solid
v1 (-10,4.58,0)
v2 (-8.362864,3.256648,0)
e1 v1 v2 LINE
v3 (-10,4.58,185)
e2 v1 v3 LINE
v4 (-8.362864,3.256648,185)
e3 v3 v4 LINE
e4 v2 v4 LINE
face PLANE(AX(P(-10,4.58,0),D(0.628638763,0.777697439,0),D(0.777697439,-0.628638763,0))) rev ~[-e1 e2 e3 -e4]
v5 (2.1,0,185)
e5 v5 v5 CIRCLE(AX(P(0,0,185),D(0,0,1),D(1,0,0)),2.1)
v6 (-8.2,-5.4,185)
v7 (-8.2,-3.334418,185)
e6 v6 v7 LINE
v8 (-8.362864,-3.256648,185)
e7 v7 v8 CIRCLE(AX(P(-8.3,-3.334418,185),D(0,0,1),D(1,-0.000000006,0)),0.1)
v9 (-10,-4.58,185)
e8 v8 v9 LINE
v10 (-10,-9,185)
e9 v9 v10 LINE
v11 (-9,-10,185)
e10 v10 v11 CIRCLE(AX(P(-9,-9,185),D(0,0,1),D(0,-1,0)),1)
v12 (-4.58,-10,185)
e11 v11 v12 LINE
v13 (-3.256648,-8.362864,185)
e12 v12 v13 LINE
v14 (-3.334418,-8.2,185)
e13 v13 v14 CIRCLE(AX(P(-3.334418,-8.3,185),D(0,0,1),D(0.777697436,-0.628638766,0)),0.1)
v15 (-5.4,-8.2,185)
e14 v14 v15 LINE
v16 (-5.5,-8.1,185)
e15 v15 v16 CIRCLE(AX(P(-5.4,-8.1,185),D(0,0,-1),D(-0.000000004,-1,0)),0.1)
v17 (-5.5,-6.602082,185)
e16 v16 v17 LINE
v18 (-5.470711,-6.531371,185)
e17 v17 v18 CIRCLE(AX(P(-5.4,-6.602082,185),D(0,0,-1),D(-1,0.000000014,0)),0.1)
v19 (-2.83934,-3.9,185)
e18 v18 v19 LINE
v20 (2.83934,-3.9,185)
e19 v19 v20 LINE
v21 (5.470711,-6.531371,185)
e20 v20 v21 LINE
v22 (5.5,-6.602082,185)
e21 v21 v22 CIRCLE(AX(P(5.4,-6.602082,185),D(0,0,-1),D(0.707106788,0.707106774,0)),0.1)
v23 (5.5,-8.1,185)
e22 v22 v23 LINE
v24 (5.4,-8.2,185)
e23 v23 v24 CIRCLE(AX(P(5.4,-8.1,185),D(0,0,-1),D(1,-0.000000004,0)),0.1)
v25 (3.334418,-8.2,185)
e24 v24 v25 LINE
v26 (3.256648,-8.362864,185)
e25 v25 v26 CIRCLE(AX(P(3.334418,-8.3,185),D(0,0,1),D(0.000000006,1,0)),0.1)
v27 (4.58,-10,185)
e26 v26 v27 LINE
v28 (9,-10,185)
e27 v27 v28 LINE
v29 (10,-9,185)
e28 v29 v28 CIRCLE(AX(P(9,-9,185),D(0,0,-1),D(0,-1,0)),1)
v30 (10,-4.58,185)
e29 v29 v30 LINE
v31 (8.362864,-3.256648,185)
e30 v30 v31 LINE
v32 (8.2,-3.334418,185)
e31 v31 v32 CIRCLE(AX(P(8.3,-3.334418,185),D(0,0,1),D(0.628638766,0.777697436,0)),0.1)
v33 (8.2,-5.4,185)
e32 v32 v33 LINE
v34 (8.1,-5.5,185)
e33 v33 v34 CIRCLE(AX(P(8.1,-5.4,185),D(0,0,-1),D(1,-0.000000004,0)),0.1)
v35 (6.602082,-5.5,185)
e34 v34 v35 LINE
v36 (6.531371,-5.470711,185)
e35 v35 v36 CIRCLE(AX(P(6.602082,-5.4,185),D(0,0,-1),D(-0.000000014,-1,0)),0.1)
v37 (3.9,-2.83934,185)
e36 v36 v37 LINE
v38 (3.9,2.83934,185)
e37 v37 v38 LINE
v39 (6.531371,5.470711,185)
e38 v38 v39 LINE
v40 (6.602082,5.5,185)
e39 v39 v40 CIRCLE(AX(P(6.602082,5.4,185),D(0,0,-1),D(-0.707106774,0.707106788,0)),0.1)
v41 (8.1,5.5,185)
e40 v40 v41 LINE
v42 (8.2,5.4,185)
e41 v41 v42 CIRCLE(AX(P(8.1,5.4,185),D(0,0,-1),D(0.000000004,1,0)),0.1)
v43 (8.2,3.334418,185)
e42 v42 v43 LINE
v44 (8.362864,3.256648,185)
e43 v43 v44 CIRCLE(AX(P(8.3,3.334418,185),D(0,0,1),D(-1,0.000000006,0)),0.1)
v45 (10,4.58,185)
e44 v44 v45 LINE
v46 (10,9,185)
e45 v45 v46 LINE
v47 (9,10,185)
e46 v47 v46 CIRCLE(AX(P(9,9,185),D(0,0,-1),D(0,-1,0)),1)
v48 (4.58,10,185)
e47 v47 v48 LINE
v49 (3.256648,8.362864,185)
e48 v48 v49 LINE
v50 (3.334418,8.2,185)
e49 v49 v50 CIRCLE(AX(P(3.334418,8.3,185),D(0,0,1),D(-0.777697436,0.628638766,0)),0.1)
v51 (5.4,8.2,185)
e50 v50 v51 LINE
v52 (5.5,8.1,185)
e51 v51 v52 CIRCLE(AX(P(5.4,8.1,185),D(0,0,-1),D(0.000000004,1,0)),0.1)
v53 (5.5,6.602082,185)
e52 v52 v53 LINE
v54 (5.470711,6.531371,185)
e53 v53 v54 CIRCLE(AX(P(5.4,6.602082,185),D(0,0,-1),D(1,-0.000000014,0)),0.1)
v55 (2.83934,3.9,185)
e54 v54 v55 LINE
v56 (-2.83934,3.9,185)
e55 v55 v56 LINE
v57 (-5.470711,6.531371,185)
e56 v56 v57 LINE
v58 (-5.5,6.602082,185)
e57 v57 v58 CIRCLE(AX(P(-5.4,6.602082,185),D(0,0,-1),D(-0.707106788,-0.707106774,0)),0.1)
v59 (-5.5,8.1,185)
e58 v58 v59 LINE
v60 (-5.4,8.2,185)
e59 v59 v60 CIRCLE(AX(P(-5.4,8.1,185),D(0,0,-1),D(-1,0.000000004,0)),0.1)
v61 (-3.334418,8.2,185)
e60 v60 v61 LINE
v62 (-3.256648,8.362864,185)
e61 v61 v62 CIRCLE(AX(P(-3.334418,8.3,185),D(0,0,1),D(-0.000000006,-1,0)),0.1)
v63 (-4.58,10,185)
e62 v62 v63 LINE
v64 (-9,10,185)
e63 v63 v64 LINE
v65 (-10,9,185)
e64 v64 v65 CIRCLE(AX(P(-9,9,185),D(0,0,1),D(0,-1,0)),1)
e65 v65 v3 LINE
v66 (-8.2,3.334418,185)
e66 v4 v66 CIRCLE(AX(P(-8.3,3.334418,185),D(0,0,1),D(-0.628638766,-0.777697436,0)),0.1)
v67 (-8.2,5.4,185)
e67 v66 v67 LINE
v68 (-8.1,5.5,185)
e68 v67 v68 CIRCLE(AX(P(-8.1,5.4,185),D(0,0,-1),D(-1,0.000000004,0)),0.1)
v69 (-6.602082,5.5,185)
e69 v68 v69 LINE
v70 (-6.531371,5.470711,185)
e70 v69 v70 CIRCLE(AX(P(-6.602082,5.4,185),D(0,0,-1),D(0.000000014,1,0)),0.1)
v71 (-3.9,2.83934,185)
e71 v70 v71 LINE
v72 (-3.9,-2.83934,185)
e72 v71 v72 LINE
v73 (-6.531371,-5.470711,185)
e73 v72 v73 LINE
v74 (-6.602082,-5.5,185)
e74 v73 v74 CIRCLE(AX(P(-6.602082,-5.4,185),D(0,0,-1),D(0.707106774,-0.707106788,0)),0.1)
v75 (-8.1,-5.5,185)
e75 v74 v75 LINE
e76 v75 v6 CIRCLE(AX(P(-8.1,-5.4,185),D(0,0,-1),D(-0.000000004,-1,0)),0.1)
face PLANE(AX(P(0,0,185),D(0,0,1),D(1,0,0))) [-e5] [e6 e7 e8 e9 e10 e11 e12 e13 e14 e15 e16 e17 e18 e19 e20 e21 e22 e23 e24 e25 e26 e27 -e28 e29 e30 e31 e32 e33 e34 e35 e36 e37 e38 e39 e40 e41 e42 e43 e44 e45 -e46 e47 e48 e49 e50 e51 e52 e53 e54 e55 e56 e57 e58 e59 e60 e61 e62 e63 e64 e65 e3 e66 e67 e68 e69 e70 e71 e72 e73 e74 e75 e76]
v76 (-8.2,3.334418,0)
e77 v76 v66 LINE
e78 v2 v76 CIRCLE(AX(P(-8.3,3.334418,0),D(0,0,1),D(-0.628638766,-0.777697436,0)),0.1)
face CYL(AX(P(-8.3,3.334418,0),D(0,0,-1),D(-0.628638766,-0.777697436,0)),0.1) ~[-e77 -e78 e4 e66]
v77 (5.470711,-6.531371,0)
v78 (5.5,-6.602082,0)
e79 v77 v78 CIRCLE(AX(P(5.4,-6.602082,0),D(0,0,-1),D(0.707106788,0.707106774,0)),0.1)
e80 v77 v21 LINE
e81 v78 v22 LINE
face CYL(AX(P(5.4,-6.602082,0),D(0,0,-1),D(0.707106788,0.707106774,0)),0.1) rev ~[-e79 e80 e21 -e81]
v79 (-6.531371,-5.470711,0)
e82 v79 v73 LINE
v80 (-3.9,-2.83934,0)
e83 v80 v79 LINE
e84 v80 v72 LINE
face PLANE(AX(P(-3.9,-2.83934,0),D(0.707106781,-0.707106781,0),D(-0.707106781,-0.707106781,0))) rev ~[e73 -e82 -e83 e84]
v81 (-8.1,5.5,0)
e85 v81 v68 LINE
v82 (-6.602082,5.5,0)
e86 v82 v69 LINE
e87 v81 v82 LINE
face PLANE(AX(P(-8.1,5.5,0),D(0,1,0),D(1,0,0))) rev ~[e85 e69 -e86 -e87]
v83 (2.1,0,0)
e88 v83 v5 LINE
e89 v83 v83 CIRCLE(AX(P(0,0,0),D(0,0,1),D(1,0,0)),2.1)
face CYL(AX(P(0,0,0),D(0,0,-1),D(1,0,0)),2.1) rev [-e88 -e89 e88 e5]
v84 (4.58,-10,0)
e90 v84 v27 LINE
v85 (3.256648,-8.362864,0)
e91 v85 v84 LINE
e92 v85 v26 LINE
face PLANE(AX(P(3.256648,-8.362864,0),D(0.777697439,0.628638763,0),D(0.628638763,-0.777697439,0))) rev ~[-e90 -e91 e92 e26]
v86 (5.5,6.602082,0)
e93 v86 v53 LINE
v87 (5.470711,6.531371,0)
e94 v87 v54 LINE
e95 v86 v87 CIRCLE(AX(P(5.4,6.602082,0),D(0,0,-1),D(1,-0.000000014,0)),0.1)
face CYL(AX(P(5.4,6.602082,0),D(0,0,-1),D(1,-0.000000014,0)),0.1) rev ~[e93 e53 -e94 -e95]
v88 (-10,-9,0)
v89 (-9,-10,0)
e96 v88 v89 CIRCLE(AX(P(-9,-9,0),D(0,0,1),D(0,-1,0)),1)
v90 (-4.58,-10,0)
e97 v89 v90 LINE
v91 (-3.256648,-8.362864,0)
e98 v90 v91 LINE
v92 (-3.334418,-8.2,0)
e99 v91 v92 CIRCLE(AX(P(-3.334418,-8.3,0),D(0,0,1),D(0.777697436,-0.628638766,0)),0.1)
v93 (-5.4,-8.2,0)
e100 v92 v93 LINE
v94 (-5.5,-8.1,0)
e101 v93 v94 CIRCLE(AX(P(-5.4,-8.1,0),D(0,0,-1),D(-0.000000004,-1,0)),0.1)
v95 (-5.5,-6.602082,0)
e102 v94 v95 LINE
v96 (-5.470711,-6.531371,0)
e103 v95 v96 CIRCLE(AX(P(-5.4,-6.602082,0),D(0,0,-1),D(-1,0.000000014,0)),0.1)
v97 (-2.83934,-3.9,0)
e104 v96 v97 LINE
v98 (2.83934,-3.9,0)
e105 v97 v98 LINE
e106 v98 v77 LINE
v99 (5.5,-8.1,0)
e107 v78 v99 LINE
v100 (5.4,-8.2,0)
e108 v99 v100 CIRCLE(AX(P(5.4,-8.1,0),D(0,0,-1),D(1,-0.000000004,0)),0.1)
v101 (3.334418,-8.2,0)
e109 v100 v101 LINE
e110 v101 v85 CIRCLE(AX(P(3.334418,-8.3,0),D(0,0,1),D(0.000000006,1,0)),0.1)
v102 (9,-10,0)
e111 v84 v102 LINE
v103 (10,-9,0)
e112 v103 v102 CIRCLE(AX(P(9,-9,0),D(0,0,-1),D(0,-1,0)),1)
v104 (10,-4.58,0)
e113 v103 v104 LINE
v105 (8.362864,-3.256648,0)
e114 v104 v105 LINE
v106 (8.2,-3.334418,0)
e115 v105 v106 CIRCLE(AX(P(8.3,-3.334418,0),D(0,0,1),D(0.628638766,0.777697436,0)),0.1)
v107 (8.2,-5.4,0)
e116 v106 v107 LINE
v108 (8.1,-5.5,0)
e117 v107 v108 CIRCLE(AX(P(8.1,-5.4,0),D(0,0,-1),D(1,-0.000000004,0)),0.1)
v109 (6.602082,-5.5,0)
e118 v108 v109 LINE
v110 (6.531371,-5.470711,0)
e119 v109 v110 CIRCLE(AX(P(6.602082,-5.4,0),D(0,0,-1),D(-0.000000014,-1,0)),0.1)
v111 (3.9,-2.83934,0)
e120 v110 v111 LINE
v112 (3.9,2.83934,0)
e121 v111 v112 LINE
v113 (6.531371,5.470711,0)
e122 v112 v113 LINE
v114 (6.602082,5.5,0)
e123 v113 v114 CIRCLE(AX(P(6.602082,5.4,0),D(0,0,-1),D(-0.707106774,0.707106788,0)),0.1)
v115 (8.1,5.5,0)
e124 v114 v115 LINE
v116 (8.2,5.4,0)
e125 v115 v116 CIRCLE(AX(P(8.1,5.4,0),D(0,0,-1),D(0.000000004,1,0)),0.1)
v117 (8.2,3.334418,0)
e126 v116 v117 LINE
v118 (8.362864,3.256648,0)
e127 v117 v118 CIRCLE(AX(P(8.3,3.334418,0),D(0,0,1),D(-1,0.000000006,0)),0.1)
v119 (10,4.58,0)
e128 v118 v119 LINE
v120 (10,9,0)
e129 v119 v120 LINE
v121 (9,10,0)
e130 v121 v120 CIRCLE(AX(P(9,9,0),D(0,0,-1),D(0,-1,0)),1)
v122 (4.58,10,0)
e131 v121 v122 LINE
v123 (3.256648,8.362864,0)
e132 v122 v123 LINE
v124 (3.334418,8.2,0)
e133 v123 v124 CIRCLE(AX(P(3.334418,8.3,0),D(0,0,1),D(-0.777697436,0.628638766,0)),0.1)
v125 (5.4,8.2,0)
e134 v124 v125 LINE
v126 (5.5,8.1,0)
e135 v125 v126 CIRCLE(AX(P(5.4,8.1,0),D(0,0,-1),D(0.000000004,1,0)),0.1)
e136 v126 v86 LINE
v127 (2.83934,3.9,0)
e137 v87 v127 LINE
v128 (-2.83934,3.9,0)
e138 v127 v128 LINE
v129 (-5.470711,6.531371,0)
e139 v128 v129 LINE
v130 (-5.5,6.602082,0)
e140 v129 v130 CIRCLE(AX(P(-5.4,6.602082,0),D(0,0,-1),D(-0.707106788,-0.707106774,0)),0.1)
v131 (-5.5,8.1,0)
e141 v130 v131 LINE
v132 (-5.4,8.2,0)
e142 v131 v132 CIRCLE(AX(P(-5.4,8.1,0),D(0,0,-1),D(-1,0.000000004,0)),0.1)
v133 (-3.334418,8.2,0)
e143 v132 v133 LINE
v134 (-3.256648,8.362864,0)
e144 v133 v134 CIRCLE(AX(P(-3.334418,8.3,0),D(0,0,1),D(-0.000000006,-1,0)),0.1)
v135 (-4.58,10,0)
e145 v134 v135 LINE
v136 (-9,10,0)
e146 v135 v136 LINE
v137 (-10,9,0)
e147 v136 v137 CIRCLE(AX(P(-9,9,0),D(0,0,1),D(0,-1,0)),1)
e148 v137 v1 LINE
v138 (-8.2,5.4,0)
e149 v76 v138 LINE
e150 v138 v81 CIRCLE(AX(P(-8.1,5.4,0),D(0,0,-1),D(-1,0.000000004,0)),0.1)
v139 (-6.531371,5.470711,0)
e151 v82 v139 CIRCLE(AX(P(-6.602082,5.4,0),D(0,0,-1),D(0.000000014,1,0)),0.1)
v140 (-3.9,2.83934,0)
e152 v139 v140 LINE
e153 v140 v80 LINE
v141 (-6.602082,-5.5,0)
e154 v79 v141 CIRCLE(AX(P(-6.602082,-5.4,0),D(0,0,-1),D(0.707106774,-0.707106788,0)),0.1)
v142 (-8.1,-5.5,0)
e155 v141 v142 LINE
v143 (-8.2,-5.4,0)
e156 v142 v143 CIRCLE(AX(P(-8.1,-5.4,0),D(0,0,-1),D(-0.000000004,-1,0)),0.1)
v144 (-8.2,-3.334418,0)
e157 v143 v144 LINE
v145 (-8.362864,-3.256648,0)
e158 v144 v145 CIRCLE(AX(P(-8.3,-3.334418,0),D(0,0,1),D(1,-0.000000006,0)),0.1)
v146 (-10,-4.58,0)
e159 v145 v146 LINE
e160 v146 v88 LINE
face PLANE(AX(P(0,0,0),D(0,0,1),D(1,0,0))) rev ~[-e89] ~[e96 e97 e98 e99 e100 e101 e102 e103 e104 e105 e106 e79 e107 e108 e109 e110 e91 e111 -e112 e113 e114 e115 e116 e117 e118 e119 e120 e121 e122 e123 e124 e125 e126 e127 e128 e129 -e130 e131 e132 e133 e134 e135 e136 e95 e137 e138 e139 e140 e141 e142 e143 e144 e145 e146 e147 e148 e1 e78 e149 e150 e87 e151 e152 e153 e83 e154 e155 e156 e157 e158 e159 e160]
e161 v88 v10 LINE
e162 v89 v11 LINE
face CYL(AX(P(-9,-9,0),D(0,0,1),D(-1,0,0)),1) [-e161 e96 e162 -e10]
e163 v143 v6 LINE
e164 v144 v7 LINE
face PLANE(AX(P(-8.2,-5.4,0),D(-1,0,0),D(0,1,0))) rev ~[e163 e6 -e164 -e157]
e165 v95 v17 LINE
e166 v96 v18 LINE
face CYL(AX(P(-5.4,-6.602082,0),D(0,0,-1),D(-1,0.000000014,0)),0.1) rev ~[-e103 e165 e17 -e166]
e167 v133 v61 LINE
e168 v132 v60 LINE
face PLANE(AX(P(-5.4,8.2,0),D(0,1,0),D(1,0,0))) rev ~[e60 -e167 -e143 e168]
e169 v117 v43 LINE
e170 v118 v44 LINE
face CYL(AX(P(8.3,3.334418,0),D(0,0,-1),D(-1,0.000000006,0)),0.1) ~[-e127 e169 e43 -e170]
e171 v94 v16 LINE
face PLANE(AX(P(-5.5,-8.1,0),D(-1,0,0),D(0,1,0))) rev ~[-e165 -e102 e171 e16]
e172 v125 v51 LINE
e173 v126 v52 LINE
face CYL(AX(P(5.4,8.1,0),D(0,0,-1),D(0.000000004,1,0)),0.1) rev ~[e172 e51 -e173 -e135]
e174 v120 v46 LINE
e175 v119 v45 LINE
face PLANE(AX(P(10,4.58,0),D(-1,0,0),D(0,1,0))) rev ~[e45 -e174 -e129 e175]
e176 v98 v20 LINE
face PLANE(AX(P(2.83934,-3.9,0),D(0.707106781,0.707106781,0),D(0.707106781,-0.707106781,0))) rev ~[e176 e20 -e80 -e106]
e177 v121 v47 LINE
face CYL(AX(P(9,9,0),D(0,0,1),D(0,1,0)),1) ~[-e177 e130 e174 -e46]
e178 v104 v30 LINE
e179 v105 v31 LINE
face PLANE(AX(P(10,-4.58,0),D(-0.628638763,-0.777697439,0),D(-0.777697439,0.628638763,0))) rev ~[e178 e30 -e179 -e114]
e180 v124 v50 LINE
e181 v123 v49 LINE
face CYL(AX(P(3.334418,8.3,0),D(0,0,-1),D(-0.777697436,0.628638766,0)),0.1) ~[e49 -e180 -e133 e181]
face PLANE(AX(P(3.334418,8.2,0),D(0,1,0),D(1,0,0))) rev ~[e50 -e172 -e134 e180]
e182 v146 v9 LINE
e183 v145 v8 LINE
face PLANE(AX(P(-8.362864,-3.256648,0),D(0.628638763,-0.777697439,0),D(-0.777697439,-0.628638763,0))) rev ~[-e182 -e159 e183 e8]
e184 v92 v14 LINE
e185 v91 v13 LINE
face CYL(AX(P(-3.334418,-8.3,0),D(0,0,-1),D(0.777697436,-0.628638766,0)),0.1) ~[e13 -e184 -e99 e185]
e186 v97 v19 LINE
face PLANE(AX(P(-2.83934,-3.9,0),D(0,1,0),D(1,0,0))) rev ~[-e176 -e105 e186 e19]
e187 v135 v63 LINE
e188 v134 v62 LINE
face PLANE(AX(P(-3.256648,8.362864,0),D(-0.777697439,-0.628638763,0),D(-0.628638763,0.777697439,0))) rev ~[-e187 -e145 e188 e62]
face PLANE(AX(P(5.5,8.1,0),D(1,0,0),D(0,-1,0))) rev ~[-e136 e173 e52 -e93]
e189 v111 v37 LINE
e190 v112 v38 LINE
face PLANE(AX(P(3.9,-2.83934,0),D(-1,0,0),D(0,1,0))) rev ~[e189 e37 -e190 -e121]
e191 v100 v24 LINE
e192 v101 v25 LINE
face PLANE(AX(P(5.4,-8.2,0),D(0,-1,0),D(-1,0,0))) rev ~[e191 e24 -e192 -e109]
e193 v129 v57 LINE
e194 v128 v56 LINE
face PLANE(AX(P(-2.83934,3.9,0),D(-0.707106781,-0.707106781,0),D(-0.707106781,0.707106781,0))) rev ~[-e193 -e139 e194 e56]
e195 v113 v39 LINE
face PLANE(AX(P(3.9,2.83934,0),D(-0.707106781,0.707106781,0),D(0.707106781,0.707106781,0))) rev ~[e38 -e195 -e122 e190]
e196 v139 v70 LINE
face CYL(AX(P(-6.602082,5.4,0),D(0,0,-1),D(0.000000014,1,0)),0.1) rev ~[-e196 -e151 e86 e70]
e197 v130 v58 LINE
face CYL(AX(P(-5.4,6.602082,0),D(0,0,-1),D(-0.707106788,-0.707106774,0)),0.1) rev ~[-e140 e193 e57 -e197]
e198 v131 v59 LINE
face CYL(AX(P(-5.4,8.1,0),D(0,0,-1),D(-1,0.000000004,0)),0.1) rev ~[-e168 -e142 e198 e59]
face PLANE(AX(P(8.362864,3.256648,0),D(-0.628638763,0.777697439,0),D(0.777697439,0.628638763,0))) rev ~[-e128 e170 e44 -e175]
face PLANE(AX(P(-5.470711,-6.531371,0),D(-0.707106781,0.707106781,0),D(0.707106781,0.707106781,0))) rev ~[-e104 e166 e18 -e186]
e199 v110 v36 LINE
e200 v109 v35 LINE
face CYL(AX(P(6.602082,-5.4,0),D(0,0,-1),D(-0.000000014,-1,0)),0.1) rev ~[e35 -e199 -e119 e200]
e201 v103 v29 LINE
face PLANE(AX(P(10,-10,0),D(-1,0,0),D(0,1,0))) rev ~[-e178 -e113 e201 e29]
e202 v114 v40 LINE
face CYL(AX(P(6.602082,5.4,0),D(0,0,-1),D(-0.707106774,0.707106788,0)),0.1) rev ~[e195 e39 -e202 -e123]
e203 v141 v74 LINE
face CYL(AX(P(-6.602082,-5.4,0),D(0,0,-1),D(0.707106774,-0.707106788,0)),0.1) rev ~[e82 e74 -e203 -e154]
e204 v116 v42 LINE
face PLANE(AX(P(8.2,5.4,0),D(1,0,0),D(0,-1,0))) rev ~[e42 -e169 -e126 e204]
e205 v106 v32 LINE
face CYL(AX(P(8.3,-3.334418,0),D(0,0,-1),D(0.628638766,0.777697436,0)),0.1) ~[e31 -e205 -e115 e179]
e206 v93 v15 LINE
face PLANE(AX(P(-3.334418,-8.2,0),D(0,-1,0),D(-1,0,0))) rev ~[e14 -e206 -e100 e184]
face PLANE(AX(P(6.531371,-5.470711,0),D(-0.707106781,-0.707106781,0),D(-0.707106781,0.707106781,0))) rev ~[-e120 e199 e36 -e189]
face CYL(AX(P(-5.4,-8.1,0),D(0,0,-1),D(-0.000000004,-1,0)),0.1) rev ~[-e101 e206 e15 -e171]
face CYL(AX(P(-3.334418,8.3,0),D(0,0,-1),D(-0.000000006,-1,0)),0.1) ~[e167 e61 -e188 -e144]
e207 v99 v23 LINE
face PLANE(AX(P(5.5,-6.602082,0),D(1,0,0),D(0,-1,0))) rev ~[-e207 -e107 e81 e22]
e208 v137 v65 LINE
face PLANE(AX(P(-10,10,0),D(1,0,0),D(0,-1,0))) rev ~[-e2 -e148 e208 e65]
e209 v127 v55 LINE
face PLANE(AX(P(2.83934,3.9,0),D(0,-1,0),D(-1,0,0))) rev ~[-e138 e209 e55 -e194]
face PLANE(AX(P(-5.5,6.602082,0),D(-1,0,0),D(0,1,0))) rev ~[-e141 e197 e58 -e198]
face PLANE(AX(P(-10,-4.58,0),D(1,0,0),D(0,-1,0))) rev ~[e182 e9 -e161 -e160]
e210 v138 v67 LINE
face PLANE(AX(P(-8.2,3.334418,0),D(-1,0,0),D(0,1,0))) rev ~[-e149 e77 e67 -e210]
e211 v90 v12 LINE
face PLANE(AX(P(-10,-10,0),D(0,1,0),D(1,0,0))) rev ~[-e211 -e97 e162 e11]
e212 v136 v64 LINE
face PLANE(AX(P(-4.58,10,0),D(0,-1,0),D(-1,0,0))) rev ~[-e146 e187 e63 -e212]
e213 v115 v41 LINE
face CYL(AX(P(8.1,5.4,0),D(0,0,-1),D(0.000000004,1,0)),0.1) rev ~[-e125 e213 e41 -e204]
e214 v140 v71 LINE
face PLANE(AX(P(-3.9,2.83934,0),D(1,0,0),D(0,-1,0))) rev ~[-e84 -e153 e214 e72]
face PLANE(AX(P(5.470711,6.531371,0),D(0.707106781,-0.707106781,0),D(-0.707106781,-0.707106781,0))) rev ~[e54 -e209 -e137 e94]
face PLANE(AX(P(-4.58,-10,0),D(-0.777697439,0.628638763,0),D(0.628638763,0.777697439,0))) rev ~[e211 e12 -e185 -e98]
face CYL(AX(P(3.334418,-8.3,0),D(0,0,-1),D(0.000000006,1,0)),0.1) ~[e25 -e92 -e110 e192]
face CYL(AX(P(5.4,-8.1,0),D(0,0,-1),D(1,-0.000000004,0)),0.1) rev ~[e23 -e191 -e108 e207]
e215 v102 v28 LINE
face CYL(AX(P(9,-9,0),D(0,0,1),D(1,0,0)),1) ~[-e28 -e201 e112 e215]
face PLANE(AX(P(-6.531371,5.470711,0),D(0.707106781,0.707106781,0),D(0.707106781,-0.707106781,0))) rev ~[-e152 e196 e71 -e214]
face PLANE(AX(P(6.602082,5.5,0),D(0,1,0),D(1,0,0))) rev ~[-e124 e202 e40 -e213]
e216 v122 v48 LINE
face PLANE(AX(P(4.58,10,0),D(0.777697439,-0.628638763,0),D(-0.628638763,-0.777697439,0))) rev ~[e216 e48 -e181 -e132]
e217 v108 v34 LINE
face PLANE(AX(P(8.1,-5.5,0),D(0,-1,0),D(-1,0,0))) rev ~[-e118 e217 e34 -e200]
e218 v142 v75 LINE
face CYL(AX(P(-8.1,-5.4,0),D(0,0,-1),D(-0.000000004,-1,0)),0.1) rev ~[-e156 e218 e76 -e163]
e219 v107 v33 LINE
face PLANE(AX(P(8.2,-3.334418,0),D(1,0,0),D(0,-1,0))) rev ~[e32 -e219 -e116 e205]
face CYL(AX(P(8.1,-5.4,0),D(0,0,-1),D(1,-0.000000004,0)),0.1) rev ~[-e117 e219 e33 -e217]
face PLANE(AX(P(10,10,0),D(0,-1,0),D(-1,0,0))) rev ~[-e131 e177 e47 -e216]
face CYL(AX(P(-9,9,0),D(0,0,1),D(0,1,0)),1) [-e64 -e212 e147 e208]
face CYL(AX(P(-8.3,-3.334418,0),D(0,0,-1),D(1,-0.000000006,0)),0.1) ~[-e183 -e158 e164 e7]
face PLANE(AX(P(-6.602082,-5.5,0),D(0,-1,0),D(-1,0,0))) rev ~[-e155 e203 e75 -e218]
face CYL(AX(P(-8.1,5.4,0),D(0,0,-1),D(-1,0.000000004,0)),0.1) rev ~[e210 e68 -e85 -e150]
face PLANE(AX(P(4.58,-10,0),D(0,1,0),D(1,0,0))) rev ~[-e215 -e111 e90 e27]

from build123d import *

# Parameters (mm, degrees)
SKETCH1_R           = 2.1
BOSS_EXTRUDE1_DEPTH = 185
FILLET1_R           = 1


with BuildPart() as part:
    # Sketch1 → Boss-Extrude1 (new body)
    with BuildSketch(Plane.XY):
        with BuildLine():
            Line((-2.839339828, 3.9), (-5.470710678, 6.53137085))
            ThreePointArc((-5.470710678, 6.53137085), (-5.492387953, 6.563813185), (-5.5, 6.602081528))
            Line((-5.5, 6.602081528), (-5.5, 8.1))
            ThreePointArc((-5.5, 8.1), (-5.470710678, 8.170710678), (-5.4, 8.2))
            Line((-5.4, 8.2), (-3.334418044, 8.2))
            ThreePointArc((-3.334418044, 8.2), (-3.244178397, 8.256909326), (-3.2566483, 8.362863876))
            Line((-3.2566483, 8.362863876), (-4.58, 10))
            Line((-4.58, 10), (-10, 10))
            Line((-10, 10), (-10, 4.58))
            Line((-10, 4.58), (-8.362863876, 3.2566483))
            ThreePointArc((-8.362863876, 3.2566483), (-8.256909326, 3.244178397), (-8.2, 3.334418044))
            Line((-8.2, 3.334418044), (-8.2, 5.4))
            ThreePointArc((-8.2, 5.4), (-8.170710678, 5.470710678), (-8.1, 5.5))
            Line((-8.1, 5.5), (-6.602081528, 5.5))
            ThreePointArc((-6.602081528, 5.5), (-6.563813185, 5.492387953), (-6.53137085, 5.470710678))
            Line((-6.53137085, 5.470710678), (-3.9, 2.839339828))
            Line((-3.9, 2.839339828), (-3.9, -2.839339828))
            Line((-3.9, -2.839339828), (-6.53137085, -5.470710678))
            ThreePointArc((-6.53137085, -5.470710678), (-6.563813185, -5.492387953), (-6.602081528, -5.5))
            Line((-6.602081528, -5.5), (-8.1, -5.5))
            ThreePointArc((-8.1, -5.5), (-8.170710678, -5.470710678), (-8.2, -5.4))
            Line((-8.2, -5.4), (-8.2, -3.334418044))
            ThreePointArc((-8.2, -3.334418044), (-8.256909326, -3.244178397), (-8.362863876, -3.2566483))
            Line((-8.362863876, -3.2566483), (-10, -4.58))
            Line((-10, -4.58), (-10, -10))
            Line((-10, -10), (-4.58, -10))
            Line((-4.58, -10), (-3.2566483, -8.362863876))
            ThreePointArc((-3.2566483, -8.362863876), (-3.244178397, -8.256909326), (-3.334418044, -8.2))
            Line((-3.334418044, -8.2), (-5.4, -8.2))
            ThreePointArc((-5.4, -8.2), (-5.470710678, -8.170710678), (-5.5, -8.1))
            Line((-5.5, -8.1), (-5.5, -6.602081528))
            ThreePointArc((-5.5, -6.602081528), (-5.492387953, -6.563813185), (-5.470710678, -6.53137085))
            Line((-5.470710678, -6.53137085), (-2.839339828, -3.9))
            Line((-2.839339828, -3.9), (2.839339828, -3.9))
            Line((2.839339828, -3.9), (5.470710678, -6.53137085))
            ThreePointArc((5.470710678, -6.53137085), (5.492387953, -6.563813185), (5.5, -6.602081528))
            Line((5.5, -6.602081528), (5.5, -8.1))
            ThreePointArc((5.5, -8.1), (5.470710678, -8.170710678), (5.4, -8.2))
            Line((5.4, -8.2), (3.334418044, -8.2))
            ThreePointArc((3.334418044, -8.2), (3.244178397, -8.256909326), (3.2566483, -8.362863876))
            Line((3.2566483, -8.362863876), (4.58, -10))
            Line((4.58, -10), (10, -10))
            Line((10, -10), (10, -4.58))
            Line((10, -4.58), (8.362863876, -3.2566483))
            ThreePointArc((8.362863876, -3.2566483), (8.256909326, -3.244178397), (8.2, -3.334418044))
            Line((8.2, -3.334418044), (8.2, -5.4))
            ThreePointArc((8.2, -5.4), (8.170710678, -5.470710678), (8.1, -5.5))
            Line((8.1, -5.5), (6.602081528, -5.5))
            ThreePointArc((6.602081528, -5.5), (6.563813185, -5.492387953), (6.53137085, -5.470710678))
            Line((6.53137085, -5.470710678), (3.9, -2.839339828))
            Line((3.9, -2.839339828), (3.9, 2.839339828))
            Line((3.9, 2.839339828), (6.53137085, 5.470710678))
            ThreePointArc((6.53137085, 5.470710678), (6.563813185, 5.492387953), (6.602081528, 5.5))
            Line((6.602081528, 5.5), (8.1, 5.5))
            ThreePointArc((8.1, 5.5), (8.170710678, 5.470710678), (8.2, 5.4))
            Line((8.2, 5.4), (8.2, 3.334418044))
            ThreePointArc((8.2, 3.334418044), (8.256909326, 3.244178397), (8.362863876, 3.2566483))
            Line((8.362863876, 3.2566483), (10, 4.58))
            Line((10, 4.58), (10, 10))
            Line((10, 10), (4.58, 10))
            Line((4.58, 10), (3.2566483, 8.362863876))
            ThreePointArc((3.2566483, 8.362863876), (3.244178397, 8.256909326), (3.334418044, 8.2))
            Line((3.334418044, 8.2), (5.4, 8.2))
            ThreePointArc((5.4, 8.2), (5.470710678, 8.170710678), (5.5, 8.1))
            Line((5.5, 8.1), (5.5, 6.602081528))
            ThreePointArc((5.5, 6.602081528), (5.492387953, 6.563813185), (5.470710678, 6.53137085))
            Line((5.470710678, 6.53137085), (2.839339828, 3.9))
            Line((2.839339828, 3.9), (-2.839339828, 3.9))
        make_face()
        Circle(SKETCH1_R, mode=Mode.SUBTRACT)
    extrude(amount=BOSS_EXTRUDE1_DEPTH)

    # Fillet1
    fillet1_edges = [part.edges().sort_by_distance(p)[0] for p in [
        (10, -10, 92.5),
        (-10, -10, 92.5),
        (-10, 10, 92.5),
        (10, 10, 92.5),
    ]]
    fillet(fillet1_edges, radius=FILLET1_R)


solid = part.part
